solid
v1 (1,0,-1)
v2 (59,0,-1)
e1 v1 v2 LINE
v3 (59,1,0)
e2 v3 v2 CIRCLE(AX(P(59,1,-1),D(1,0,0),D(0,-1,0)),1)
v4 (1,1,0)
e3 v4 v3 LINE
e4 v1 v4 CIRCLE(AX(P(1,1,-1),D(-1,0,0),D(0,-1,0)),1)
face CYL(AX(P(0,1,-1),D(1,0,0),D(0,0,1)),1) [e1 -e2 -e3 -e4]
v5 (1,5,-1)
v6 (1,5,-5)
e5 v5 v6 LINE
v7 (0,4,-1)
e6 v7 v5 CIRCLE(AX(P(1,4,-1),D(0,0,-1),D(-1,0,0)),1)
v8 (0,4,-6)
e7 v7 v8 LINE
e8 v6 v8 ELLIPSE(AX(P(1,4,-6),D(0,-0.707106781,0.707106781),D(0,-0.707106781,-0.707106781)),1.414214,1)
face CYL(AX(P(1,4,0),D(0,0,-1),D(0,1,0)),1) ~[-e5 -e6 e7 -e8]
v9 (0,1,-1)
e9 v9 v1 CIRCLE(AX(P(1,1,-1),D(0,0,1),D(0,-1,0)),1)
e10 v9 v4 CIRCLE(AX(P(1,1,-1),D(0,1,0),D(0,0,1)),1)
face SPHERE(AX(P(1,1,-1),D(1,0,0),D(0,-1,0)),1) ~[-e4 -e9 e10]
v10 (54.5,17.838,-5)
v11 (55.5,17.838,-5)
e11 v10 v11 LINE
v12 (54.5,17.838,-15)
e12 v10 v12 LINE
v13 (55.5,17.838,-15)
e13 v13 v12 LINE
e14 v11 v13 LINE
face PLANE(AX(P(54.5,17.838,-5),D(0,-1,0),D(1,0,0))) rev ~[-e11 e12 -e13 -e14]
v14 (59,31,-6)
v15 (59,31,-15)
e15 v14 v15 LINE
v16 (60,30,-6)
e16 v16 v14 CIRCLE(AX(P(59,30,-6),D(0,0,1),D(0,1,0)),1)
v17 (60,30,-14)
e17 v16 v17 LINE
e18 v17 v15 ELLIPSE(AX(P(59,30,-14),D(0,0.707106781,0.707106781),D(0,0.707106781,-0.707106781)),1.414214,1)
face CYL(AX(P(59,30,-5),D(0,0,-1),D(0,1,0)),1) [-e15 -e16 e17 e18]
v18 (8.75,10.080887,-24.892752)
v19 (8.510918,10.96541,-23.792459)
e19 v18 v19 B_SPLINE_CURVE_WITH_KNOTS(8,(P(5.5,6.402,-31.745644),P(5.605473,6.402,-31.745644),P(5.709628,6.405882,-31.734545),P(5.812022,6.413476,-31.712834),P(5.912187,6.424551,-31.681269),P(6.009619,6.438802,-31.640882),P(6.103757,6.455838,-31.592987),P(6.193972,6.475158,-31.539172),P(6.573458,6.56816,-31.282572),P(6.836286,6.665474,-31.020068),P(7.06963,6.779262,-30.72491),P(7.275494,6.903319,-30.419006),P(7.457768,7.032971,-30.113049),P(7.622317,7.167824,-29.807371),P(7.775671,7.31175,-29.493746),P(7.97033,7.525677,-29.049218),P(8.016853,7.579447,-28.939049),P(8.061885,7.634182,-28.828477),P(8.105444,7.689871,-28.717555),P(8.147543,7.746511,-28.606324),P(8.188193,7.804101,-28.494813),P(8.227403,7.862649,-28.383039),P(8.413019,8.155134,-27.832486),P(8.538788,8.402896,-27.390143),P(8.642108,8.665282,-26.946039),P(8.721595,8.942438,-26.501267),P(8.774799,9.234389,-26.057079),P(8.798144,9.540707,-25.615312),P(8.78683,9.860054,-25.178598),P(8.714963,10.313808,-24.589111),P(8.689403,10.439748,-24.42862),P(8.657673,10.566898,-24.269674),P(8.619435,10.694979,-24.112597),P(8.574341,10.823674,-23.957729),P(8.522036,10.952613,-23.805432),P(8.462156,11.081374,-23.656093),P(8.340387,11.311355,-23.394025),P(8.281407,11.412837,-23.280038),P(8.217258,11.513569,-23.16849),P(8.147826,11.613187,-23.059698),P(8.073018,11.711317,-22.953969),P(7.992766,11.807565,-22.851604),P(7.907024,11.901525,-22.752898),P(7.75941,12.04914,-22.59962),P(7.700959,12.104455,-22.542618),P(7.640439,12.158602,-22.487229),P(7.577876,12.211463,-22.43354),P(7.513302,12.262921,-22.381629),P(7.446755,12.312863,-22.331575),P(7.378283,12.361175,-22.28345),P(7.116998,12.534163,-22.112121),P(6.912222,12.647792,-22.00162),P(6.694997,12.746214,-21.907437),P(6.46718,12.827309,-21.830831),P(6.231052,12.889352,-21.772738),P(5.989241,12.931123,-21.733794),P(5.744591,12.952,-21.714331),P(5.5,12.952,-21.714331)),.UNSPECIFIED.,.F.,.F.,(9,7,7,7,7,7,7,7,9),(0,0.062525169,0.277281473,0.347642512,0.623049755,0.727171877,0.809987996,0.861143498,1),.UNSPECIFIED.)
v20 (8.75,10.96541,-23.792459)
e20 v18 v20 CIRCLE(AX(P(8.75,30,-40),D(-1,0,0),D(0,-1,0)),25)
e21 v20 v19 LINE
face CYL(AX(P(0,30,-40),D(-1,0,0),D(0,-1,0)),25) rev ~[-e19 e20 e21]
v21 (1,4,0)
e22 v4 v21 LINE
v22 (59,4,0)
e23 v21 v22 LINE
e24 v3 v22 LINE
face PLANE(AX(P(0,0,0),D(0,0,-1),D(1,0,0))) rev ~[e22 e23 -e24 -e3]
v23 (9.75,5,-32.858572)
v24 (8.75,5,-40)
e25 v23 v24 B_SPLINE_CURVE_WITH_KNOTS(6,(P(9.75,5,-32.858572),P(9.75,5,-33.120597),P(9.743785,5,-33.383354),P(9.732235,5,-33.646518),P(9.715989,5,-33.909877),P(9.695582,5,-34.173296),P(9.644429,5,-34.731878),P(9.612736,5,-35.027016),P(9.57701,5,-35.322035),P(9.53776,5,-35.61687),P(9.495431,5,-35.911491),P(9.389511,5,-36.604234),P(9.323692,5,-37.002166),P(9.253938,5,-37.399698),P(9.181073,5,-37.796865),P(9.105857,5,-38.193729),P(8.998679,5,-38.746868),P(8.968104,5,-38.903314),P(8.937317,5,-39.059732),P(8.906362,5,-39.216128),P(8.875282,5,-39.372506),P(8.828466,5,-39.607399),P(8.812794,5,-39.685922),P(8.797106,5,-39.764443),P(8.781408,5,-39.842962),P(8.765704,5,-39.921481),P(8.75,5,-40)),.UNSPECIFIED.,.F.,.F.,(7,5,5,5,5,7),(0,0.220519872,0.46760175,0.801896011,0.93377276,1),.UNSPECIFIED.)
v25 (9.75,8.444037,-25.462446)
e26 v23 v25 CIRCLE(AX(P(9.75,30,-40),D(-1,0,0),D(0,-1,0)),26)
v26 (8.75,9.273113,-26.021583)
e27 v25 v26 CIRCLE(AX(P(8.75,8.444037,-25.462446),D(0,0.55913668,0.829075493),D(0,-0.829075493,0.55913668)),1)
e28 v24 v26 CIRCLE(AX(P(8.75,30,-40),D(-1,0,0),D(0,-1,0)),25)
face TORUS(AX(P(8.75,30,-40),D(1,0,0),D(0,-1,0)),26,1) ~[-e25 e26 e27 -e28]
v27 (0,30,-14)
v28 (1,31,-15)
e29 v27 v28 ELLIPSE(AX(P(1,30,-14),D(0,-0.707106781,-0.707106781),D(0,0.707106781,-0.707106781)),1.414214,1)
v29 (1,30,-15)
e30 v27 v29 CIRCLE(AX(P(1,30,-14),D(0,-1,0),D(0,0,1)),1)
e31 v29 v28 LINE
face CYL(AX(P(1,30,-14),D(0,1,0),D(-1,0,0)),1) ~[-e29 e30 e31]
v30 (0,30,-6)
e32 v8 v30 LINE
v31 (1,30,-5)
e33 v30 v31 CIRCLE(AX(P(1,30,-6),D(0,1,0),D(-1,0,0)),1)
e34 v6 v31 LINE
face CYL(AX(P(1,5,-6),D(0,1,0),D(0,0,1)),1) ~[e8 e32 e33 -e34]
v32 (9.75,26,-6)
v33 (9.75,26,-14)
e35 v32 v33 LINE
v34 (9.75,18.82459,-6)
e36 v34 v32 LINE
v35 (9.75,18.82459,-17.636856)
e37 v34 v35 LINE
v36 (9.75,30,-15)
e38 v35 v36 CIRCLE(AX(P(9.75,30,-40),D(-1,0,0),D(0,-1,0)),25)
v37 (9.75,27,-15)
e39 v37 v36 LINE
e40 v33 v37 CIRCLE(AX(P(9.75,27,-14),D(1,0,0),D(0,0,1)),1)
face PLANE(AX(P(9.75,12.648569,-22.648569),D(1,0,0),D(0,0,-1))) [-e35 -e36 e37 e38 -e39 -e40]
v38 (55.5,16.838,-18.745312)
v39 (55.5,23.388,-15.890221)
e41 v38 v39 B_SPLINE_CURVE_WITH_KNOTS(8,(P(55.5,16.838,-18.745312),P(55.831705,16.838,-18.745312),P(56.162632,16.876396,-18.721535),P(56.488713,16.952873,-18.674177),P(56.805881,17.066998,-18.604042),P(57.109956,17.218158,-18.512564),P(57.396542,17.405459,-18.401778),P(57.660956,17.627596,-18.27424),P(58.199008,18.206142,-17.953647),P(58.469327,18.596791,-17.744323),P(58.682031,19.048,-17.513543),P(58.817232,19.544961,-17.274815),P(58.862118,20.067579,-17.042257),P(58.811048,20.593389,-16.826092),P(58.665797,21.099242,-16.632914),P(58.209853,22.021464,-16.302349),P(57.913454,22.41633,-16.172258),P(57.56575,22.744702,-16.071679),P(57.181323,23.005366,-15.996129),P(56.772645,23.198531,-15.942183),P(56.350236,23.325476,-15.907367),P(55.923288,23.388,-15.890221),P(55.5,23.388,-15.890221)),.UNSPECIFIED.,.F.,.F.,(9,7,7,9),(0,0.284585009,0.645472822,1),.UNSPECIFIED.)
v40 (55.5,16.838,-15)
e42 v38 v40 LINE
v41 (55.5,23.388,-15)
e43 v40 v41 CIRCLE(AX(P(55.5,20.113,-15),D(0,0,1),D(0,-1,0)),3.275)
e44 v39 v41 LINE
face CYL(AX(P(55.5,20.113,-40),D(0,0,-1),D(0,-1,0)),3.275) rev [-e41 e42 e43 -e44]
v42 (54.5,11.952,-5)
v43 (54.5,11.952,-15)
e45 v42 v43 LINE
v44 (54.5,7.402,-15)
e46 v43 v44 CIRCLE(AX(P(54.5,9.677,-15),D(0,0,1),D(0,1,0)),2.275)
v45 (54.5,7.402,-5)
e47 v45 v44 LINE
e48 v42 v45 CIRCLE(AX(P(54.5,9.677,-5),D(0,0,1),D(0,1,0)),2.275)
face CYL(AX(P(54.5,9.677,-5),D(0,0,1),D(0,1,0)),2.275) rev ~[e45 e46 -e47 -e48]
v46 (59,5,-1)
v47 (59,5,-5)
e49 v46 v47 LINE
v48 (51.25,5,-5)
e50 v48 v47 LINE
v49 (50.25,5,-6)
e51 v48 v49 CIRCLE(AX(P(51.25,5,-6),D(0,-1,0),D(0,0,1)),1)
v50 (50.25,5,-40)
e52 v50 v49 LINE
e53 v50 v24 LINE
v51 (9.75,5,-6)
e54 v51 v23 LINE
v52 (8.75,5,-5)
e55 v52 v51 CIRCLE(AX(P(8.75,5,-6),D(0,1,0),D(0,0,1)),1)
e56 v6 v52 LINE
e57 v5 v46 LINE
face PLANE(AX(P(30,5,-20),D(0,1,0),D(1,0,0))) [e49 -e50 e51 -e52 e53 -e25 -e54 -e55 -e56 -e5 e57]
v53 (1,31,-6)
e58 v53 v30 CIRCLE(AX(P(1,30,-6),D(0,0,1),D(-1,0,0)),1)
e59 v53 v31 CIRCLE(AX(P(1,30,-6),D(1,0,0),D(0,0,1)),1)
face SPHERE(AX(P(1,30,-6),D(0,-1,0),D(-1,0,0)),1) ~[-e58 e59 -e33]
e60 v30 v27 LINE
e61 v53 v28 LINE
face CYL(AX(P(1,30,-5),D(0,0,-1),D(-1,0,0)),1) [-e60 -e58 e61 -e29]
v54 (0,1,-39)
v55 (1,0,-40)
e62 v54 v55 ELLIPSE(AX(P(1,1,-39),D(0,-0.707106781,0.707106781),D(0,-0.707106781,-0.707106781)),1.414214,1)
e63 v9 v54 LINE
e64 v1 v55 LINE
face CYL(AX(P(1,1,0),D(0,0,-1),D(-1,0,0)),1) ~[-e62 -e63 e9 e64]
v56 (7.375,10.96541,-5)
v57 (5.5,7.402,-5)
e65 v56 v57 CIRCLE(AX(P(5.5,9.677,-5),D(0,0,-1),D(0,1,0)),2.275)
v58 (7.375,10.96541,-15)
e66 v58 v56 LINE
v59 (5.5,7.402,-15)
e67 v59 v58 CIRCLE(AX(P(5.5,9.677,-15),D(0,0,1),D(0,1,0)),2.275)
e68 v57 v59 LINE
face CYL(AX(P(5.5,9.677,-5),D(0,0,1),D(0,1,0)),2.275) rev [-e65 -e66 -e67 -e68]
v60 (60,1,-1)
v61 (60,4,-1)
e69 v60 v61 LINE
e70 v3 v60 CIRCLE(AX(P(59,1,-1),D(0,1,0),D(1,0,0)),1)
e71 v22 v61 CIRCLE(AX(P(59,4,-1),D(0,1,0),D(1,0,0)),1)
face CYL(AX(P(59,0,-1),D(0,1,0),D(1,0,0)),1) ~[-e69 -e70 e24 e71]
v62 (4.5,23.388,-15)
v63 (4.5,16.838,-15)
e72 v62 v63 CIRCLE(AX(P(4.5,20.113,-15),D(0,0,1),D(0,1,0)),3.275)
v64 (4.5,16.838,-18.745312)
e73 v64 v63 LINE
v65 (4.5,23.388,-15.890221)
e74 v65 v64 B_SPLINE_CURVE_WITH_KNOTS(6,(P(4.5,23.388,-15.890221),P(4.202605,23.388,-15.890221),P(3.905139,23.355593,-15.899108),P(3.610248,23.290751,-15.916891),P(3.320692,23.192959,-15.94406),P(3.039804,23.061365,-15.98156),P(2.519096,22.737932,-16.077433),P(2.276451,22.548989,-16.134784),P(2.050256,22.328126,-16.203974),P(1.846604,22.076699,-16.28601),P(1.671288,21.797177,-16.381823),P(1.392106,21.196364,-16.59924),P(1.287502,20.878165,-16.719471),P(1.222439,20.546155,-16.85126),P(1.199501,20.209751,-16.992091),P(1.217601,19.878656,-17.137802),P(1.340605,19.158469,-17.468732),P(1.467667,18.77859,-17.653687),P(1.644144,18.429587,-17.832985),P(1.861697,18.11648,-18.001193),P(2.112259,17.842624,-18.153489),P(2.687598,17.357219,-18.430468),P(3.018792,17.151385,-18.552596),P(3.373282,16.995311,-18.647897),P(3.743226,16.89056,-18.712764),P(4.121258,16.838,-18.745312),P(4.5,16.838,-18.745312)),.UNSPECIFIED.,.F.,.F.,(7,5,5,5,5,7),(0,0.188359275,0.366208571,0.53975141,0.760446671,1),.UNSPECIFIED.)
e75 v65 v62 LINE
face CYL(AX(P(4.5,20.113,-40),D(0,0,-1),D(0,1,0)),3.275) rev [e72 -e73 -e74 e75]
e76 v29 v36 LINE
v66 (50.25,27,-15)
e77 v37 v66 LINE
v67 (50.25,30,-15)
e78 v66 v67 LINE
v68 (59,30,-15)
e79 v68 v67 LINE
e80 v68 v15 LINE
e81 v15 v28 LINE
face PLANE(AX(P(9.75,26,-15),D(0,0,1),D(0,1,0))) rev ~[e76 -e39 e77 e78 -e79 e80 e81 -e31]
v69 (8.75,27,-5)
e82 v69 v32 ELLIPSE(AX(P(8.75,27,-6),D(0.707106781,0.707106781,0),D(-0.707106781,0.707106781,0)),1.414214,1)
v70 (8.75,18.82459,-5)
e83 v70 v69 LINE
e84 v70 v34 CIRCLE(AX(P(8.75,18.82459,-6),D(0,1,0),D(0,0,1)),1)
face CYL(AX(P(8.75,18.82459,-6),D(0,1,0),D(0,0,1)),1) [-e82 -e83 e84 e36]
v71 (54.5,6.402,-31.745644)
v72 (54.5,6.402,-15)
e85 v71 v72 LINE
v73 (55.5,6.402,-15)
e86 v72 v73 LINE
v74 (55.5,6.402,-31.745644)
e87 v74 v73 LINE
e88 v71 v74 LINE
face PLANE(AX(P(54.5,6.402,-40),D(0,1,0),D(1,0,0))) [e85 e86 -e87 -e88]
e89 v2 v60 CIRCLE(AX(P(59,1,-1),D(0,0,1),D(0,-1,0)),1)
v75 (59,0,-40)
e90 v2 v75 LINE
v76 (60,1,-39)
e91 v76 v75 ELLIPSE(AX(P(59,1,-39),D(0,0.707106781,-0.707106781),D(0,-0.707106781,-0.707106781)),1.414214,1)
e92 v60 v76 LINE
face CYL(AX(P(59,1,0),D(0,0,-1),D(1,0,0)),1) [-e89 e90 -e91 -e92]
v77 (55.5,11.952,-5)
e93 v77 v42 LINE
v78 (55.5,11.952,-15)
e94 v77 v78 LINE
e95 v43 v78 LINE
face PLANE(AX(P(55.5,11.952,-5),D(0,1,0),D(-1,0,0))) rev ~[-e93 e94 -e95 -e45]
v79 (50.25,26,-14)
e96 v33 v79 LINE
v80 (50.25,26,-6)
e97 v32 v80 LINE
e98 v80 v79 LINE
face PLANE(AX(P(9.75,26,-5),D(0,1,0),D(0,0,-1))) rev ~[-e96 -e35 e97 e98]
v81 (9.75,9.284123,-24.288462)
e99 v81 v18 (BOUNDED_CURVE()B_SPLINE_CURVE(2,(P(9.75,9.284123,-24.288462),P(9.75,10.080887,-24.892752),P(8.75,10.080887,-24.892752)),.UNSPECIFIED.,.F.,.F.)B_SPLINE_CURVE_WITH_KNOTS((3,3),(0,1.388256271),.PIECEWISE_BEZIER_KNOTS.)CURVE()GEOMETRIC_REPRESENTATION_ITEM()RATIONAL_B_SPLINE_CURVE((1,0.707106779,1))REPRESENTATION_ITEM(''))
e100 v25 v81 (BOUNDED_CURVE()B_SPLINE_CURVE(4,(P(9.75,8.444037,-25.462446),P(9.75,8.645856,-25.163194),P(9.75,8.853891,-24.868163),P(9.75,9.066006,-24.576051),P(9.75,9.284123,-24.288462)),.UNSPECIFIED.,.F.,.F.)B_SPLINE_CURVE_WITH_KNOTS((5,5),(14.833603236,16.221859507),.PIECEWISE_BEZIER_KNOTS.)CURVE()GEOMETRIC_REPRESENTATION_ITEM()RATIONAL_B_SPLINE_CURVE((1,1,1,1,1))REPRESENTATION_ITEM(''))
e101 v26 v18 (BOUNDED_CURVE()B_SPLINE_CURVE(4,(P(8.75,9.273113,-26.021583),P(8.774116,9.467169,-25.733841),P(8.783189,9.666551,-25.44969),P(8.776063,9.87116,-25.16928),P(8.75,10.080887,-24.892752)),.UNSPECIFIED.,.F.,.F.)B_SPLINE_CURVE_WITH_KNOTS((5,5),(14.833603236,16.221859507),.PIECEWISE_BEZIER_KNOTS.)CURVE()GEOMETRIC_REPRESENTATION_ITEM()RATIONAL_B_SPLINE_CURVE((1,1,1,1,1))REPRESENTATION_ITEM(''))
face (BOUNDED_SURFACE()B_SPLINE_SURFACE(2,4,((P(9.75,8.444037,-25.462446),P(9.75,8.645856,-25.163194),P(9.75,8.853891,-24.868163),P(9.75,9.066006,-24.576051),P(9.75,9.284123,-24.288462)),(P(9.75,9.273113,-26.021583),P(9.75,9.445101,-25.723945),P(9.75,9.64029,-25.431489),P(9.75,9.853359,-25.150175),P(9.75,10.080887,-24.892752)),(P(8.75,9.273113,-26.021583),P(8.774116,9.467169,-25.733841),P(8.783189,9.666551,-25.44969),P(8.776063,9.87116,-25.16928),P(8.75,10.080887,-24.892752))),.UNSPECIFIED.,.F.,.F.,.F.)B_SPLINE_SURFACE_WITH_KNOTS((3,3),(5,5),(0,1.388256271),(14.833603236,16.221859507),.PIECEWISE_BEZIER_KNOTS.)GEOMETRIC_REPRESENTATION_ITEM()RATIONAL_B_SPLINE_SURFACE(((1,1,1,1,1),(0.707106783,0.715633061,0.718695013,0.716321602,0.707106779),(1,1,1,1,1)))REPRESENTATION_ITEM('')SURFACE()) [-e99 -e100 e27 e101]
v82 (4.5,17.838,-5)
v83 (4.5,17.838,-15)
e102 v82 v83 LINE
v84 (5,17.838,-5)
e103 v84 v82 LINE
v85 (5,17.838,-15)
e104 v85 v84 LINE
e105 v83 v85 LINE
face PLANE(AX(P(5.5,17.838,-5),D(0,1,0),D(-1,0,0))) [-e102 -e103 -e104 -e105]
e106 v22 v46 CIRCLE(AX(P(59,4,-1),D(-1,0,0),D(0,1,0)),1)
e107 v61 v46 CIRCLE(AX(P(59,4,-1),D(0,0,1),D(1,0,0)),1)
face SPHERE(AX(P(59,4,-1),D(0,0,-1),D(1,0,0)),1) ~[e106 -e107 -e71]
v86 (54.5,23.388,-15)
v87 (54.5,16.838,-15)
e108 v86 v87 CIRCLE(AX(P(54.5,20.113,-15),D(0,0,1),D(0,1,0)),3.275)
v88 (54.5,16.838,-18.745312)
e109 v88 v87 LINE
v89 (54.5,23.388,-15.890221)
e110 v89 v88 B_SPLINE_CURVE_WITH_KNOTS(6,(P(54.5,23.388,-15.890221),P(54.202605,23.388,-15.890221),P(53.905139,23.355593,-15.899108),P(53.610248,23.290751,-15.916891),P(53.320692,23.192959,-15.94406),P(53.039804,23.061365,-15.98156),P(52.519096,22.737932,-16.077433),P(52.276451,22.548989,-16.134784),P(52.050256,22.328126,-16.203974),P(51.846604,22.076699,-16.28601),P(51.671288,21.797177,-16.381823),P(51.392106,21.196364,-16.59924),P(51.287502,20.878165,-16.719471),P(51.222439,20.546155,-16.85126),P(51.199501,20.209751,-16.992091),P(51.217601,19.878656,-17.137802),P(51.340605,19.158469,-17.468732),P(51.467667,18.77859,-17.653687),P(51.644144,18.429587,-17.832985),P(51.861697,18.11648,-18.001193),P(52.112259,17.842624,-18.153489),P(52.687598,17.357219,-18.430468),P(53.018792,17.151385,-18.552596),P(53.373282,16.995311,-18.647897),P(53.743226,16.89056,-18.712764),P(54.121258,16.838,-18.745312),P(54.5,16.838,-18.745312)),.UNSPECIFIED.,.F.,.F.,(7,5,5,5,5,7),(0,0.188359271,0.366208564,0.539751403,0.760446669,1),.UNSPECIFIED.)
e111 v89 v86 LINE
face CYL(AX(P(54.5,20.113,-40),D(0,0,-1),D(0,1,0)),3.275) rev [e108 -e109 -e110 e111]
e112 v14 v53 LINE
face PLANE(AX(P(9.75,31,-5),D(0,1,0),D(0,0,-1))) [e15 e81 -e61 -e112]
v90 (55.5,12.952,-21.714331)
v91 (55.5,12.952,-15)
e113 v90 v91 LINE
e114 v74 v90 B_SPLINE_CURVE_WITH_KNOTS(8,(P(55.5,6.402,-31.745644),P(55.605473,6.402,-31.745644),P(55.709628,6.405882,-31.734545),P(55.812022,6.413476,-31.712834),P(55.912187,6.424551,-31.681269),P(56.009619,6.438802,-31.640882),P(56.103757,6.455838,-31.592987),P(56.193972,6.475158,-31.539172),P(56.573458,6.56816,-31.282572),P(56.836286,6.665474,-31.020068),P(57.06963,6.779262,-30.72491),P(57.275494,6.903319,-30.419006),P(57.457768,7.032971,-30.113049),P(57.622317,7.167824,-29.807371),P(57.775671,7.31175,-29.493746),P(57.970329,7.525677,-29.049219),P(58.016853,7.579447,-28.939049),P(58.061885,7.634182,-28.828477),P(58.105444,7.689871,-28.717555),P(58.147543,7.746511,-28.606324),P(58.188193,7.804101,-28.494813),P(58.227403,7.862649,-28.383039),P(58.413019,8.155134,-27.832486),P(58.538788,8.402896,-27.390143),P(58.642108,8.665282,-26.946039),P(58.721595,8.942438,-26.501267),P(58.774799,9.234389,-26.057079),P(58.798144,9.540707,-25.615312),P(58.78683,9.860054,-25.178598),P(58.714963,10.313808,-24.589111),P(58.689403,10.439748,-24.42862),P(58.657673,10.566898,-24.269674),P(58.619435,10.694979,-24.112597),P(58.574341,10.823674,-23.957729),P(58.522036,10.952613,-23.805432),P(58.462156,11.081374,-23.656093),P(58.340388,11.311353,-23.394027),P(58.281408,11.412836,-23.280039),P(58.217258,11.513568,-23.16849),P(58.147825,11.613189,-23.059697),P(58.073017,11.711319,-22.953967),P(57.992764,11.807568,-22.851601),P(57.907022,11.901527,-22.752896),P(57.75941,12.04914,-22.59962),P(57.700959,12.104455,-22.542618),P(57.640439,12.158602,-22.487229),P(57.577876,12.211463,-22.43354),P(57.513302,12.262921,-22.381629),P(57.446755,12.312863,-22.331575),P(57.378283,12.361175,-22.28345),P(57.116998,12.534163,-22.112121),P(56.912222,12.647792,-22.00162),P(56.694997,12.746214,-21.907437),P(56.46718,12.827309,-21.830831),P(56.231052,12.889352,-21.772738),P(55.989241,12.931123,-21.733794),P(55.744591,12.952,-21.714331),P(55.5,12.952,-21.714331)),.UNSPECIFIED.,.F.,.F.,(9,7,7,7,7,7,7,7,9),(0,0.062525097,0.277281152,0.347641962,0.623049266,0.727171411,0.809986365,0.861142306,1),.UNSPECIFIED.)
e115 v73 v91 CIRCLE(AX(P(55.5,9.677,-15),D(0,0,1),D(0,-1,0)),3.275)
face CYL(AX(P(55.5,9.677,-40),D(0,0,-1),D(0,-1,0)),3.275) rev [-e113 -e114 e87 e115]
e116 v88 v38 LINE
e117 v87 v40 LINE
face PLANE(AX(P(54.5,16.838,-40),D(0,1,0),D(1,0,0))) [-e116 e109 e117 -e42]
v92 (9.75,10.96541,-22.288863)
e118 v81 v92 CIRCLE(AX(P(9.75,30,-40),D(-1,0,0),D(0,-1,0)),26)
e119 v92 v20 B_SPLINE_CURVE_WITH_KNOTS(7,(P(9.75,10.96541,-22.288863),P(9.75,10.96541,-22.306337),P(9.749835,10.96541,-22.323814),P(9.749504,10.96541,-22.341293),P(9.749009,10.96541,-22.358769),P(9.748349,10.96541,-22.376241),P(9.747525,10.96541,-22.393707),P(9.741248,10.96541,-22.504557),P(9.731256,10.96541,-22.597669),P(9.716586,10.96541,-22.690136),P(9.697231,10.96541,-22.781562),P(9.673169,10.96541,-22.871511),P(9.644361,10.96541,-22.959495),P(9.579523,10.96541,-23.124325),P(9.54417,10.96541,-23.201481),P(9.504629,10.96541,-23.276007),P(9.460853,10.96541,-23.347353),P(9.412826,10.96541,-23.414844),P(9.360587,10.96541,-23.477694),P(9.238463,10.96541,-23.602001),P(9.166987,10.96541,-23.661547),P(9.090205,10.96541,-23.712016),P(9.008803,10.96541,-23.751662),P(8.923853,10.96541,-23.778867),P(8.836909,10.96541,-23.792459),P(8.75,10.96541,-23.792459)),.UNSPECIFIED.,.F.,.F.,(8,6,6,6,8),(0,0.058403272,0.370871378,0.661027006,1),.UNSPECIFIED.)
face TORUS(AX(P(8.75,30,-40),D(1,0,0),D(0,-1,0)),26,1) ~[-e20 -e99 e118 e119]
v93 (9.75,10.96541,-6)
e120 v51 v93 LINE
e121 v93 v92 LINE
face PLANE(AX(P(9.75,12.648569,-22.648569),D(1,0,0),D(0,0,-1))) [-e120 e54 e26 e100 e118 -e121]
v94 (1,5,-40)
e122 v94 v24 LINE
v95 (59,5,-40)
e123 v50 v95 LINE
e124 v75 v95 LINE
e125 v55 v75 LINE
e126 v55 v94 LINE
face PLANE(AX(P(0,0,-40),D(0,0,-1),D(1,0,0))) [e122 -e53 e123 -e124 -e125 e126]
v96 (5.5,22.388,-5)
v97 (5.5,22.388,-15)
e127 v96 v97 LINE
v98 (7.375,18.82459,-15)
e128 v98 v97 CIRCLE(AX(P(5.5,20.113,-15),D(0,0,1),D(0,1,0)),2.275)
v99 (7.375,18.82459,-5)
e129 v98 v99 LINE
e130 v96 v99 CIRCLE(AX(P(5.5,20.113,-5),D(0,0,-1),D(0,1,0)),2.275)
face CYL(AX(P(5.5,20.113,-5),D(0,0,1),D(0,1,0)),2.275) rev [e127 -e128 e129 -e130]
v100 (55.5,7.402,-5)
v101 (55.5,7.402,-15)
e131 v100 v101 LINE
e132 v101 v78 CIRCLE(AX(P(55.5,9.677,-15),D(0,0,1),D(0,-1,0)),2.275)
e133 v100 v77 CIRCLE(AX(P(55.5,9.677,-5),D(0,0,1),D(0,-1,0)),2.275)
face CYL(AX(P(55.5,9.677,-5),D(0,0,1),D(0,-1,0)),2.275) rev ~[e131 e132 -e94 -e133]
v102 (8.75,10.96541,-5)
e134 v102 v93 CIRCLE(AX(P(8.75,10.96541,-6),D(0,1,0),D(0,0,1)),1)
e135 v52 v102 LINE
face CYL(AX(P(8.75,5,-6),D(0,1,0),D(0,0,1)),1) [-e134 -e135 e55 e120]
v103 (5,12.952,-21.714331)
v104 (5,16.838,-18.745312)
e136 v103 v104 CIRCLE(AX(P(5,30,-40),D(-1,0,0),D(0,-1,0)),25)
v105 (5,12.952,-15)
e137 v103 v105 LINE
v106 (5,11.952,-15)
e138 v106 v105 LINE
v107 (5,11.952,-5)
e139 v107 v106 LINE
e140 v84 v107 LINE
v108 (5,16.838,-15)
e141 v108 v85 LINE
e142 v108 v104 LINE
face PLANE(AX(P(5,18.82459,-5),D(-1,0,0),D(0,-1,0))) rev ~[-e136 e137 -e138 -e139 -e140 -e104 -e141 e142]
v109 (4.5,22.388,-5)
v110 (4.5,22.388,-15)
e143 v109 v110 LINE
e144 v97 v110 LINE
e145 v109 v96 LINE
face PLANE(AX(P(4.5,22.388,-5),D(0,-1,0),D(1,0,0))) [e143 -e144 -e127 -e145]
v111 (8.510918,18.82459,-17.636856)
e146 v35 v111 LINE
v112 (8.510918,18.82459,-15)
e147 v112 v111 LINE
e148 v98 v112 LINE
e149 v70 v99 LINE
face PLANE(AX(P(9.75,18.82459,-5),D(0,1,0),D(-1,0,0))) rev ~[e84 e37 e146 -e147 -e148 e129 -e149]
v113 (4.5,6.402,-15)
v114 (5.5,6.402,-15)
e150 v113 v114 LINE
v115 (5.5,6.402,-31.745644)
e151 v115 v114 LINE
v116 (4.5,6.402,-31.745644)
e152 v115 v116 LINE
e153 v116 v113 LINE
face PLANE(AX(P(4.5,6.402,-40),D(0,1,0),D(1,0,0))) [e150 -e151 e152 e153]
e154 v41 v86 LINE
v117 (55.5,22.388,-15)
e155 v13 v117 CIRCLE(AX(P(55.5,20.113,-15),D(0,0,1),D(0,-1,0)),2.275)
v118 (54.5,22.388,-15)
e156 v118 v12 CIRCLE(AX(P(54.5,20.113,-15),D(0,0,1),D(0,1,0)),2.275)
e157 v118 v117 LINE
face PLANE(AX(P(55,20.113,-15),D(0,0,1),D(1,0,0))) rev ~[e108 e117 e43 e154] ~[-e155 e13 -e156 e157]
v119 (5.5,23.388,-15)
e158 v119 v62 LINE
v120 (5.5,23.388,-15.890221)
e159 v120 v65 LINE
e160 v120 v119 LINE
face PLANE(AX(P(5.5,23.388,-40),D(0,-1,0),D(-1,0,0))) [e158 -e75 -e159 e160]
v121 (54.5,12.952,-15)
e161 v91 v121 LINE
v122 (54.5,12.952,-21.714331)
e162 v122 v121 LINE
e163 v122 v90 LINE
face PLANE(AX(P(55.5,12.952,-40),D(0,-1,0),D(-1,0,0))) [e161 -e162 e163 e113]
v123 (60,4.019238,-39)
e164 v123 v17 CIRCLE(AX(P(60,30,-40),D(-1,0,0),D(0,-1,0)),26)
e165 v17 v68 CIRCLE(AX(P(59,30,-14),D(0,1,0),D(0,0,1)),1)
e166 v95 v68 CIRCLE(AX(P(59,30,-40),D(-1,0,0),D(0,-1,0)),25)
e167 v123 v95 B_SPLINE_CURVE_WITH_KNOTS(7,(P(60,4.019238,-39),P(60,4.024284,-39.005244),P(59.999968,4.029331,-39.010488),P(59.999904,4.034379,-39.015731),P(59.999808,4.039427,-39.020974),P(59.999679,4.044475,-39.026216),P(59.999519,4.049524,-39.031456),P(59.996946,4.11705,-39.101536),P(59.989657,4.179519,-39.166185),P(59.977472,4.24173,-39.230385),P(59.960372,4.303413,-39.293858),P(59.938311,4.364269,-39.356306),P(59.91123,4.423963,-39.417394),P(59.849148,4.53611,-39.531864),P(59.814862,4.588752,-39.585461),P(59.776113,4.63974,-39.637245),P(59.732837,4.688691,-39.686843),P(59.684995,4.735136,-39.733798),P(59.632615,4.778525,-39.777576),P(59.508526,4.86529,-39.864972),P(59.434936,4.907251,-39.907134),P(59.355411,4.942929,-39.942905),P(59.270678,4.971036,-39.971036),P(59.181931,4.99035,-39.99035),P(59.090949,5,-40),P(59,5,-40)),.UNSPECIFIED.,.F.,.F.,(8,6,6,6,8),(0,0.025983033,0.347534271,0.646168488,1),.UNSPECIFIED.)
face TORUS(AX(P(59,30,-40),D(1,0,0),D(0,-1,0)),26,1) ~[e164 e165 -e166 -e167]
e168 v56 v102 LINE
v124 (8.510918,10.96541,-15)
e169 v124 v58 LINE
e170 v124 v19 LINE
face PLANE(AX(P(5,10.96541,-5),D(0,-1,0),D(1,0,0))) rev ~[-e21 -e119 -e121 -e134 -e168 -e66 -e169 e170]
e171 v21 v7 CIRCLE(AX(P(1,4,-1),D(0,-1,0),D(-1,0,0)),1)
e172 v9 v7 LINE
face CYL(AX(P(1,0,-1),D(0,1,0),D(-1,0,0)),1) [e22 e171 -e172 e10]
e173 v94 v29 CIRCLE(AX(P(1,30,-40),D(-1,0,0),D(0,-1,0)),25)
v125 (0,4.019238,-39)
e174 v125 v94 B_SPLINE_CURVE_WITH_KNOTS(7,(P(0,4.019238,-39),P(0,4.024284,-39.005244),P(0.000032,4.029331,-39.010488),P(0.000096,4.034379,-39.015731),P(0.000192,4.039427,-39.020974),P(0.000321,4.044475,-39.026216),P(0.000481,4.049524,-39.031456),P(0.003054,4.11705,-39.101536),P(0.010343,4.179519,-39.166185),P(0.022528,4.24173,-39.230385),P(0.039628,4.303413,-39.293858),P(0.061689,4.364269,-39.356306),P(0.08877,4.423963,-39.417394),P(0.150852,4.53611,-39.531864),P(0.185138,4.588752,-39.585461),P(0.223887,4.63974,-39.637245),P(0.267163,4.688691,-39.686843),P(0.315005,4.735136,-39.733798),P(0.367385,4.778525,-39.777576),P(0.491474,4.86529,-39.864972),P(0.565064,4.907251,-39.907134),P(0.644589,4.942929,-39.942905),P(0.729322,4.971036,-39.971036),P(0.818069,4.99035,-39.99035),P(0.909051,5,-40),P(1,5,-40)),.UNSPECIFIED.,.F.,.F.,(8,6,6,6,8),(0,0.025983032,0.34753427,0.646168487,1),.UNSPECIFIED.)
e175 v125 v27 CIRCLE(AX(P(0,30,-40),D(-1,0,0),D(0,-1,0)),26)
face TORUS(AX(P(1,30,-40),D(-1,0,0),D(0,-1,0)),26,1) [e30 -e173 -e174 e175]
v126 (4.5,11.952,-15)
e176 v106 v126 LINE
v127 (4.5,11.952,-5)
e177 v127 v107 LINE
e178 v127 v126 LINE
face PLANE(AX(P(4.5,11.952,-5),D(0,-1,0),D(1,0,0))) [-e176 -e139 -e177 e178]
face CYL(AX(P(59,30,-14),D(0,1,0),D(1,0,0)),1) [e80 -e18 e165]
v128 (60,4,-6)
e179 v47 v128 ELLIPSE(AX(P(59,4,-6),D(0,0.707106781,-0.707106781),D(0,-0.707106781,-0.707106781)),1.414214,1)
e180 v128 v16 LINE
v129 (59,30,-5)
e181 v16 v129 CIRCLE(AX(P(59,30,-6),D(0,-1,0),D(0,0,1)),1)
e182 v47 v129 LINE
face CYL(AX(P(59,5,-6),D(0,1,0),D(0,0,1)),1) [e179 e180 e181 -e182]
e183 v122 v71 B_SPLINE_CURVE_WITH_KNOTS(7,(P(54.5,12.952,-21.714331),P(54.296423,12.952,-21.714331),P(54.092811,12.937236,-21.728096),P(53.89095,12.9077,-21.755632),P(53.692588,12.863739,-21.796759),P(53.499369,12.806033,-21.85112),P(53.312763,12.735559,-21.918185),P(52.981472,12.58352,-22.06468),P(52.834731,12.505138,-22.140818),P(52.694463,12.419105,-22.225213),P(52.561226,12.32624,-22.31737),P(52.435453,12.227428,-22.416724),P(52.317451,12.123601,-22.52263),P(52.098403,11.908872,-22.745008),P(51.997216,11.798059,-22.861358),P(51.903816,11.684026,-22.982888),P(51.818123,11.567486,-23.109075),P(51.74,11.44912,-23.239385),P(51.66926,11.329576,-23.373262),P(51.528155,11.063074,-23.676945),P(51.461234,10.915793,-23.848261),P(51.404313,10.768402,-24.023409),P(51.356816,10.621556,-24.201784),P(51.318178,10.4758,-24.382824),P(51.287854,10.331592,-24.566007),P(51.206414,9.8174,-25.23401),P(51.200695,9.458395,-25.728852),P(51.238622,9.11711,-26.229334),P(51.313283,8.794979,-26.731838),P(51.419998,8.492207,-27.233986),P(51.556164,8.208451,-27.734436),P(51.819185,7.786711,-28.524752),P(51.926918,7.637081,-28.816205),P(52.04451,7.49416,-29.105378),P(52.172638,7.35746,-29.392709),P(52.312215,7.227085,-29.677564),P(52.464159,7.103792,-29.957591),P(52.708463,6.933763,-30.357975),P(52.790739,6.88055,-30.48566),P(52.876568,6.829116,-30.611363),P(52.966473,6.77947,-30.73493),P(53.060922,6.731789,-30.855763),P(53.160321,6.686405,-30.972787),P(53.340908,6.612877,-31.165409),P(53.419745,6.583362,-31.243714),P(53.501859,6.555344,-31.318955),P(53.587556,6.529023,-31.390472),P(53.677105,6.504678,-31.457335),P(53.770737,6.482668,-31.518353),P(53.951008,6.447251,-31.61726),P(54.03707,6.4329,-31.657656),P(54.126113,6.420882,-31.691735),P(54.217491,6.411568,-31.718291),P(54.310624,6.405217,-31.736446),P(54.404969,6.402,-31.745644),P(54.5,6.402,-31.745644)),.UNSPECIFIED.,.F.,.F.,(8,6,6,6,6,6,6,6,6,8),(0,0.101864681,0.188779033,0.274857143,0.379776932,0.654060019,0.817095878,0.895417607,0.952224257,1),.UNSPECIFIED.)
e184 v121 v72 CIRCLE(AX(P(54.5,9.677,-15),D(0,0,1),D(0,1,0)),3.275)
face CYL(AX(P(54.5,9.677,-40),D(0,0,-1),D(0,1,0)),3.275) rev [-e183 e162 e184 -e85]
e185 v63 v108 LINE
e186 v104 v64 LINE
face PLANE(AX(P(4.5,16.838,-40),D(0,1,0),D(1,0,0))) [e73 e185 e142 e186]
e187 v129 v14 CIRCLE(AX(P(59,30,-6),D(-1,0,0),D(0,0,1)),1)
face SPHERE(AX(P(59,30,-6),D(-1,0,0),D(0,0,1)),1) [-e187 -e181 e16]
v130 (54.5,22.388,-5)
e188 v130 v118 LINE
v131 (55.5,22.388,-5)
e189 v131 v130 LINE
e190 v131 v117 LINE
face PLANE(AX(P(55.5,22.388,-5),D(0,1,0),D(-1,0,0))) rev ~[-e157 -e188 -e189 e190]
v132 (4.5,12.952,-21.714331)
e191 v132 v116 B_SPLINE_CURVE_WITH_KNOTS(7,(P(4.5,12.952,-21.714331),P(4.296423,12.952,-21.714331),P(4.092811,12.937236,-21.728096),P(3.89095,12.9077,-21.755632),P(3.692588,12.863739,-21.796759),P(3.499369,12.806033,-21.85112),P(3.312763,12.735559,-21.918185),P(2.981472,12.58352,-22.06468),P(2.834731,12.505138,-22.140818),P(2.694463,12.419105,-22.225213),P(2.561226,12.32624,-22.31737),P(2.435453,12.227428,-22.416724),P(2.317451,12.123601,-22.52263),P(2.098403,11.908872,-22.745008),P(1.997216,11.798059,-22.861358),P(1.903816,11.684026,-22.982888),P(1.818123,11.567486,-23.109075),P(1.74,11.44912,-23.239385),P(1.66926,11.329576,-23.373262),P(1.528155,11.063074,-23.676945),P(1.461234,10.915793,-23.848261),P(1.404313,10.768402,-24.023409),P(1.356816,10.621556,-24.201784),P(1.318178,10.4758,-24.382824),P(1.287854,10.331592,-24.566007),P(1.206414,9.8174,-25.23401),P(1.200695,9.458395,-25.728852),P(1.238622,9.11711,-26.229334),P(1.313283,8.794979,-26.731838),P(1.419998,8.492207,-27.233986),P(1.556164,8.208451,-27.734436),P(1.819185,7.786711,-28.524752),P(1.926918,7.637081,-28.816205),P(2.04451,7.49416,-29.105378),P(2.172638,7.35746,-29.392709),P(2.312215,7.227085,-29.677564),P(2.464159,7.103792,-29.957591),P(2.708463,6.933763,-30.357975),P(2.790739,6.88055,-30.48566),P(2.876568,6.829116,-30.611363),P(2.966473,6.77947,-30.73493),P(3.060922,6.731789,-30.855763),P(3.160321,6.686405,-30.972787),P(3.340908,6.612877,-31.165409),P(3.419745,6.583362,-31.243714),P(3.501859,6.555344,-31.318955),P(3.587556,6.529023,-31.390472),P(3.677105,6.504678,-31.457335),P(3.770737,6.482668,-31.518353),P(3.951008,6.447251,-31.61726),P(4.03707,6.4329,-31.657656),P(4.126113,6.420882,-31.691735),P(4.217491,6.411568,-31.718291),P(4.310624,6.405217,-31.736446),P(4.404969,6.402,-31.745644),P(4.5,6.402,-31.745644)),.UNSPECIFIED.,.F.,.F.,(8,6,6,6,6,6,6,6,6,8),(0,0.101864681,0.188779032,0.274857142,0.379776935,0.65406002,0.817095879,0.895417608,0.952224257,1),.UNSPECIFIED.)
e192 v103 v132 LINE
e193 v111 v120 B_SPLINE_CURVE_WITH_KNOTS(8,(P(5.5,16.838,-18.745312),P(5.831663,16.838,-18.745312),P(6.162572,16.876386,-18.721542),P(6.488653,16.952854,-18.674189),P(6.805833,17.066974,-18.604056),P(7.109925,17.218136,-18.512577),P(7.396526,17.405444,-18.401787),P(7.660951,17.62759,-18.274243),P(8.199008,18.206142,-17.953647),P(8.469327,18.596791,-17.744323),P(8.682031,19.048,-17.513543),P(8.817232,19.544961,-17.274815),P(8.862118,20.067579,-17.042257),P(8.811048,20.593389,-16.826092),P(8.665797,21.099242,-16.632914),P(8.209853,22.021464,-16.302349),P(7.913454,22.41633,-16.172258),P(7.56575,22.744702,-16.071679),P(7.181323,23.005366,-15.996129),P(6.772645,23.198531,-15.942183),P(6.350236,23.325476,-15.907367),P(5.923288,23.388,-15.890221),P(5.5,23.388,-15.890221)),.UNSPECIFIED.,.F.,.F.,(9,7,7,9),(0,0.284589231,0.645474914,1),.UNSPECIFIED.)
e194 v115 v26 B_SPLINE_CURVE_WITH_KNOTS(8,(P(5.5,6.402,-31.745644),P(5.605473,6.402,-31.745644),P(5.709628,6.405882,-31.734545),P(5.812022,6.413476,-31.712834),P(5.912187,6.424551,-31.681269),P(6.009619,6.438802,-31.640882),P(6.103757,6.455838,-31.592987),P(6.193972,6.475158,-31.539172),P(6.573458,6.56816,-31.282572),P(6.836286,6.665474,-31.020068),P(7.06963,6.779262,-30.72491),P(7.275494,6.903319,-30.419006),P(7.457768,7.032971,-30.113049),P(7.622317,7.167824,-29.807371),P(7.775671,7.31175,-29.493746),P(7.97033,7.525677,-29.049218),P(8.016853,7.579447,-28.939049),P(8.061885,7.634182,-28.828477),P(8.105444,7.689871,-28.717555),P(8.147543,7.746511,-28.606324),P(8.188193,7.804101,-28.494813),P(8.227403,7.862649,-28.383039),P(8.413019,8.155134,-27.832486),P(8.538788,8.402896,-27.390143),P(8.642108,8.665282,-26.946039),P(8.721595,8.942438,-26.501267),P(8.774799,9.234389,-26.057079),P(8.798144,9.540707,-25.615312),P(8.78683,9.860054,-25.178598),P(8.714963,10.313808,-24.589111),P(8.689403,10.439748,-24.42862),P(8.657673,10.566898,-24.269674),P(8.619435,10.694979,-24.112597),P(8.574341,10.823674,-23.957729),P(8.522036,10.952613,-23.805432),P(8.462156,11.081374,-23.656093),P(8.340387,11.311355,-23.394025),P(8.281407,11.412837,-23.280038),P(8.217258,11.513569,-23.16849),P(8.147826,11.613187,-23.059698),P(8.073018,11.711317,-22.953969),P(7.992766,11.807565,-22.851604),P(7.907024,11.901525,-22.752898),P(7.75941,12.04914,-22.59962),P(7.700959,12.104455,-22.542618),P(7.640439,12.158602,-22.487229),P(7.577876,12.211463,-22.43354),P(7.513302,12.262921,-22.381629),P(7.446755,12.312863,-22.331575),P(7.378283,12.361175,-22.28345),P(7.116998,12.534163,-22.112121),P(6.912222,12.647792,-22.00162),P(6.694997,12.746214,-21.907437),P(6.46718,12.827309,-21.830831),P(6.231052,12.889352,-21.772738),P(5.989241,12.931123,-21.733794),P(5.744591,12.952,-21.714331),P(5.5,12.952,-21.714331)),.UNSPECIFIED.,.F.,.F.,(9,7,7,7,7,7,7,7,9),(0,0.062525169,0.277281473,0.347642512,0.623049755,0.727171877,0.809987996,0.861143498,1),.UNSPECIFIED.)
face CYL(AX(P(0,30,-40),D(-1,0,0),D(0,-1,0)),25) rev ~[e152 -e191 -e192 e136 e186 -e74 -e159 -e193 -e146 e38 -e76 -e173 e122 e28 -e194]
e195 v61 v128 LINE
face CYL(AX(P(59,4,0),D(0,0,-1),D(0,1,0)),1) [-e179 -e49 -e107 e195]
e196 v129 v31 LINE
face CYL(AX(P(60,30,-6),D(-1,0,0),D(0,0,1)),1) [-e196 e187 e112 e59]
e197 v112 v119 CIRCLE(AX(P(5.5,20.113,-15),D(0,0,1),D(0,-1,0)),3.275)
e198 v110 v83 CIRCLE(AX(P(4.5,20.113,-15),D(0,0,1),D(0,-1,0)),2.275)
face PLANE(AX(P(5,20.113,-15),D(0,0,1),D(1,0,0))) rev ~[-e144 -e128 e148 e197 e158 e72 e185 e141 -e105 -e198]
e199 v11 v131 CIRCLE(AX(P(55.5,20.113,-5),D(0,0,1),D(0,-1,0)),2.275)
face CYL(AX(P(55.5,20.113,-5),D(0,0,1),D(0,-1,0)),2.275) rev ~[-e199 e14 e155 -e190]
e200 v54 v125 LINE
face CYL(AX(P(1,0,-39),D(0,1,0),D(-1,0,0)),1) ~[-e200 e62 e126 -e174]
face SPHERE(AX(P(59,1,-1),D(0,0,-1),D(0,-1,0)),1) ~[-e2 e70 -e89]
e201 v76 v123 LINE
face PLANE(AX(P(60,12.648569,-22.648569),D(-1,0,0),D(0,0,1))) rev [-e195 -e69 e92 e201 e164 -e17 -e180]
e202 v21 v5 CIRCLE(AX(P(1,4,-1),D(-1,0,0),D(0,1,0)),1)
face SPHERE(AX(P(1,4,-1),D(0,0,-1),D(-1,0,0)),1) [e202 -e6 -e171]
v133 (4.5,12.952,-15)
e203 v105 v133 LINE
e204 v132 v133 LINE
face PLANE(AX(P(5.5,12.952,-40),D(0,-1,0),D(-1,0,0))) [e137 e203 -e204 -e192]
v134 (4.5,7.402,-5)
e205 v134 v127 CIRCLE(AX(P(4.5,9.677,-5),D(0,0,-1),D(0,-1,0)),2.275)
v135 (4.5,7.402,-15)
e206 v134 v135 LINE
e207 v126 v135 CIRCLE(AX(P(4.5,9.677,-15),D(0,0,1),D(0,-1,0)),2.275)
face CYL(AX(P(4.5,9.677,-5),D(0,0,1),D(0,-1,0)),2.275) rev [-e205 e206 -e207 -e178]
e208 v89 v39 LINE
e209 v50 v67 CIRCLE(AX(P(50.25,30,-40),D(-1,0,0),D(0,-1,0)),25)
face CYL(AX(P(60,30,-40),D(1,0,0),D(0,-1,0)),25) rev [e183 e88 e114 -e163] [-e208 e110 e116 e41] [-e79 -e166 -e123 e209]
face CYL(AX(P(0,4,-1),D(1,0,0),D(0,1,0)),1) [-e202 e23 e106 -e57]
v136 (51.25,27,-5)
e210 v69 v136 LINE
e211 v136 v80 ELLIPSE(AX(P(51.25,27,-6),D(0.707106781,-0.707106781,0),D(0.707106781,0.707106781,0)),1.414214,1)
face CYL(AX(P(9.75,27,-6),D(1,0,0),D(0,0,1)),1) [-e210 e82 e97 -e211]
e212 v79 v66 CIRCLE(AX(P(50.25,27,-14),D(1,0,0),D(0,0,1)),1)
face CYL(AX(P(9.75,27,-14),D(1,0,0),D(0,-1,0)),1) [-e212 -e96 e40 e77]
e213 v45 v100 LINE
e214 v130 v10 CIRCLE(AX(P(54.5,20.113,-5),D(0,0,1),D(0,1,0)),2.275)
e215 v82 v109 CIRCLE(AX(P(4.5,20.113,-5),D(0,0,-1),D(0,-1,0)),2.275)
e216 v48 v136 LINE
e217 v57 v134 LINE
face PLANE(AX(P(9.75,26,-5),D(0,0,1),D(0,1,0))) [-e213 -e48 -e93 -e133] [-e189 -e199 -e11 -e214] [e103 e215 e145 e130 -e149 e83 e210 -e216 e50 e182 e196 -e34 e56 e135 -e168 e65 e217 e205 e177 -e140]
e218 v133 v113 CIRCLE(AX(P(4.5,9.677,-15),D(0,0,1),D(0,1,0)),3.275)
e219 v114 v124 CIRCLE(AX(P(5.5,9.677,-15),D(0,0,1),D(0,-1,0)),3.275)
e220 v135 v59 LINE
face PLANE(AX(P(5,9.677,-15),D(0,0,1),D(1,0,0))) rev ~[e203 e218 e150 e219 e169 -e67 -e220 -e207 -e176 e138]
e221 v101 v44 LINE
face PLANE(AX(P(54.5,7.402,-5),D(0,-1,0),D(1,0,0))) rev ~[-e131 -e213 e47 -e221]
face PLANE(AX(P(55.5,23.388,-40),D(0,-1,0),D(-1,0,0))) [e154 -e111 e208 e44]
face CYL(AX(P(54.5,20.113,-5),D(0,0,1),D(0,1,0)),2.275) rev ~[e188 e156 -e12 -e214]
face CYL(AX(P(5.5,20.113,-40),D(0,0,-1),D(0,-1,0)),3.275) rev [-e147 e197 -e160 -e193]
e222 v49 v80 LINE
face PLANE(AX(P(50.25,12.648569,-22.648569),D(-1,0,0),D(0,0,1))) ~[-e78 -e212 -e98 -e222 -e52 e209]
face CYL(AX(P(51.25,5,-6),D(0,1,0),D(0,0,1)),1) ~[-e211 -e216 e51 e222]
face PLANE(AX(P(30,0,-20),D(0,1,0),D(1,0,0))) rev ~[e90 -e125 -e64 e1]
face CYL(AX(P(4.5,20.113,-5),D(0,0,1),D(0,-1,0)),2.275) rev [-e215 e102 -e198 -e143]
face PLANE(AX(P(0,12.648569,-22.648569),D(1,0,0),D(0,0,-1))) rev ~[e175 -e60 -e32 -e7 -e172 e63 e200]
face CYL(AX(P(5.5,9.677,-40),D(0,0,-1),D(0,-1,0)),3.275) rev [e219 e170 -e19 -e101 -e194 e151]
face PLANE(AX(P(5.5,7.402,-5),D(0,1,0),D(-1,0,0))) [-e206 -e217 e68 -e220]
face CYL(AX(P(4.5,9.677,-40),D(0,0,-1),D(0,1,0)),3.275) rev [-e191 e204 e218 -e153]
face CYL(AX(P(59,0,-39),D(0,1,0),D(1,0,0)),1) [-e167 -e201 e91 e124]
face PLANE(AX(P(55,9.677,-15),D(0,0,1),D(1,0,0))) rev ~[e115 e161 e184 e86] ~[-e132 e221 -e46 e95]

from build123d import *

# Parameters (mm, degrees)
SKETCH1_W            = 60
SKETCH1_H            = 40
BOSS_EXTRUDE1_DEPTH  = 5
SKETCH2_W            = 9.75
SKETCH2_H            = 10
BOSS_EXTRUDE2_DEPTH  = 26
BOSS_EXTRUDE3_DEPTH  = 9.75
CUT_EXTRUDE1_DEPTH   = 36
SKETCH5_W            = 10
SKETCH5_H            = 5
BOSS_EXTRUDE4_DEPTH  = 40.5
WIRE_CUT_OUT_DEPTH   = 36.0000001
WASHER_CUT_OUT_DEPTH = 25
FILLET1_R            = 1


with BuildPart() as part:
    # Sketch1 → Boss-Extrude1 (new body)
    with BuildSketch(Plane(origin=(0, 0, 0), x_dir=(1, 0, 0), z_dir=(0, 1, 0))):
        with Locations((30, 20)):
            Rectangle(SKETCH1_W, SKETCH1_H)
    extrude(amount=BOSS_EXTRUDE1_DEPTH)

    # Sketch2 → Boss-Extrude2 (add)
    with BuildSketch(Plane(origin=(0, 5, 0), x_dir=(1, 0, 0), z_dir=(0, 1, 0))):
        with Locations((4.875, 10)):
            Rectangle(SKETCH2_W, SKETCH2_H)
        with Locations((55.125, 10)):
            Rectangle(SKETCH2_W, SKETCH2_H)
    extrude(amount=BOSS_EXTRUDE2_DEPTH)

    # Sketch3 → Boss-Extrude3 (add)
    with BuildSketch(Plane.ZY):
        with BuildLine():
            Line((-15, 30), (-15, 5))
            Line((-15, 5), (-40, 5))
            ThreePointArc((-40, 5), (-22.32233047, 12.32233047), (-15, 30))
        make_face()
    boss_extrude3 = extrude(amount=-BOSS_EXTRUDE3_DEPTH)

    # Mirror2: Boss-Extrude3 across plane
    add(boss_extrude3.mirror(Plane(origin=(30, 0, 0), x_dir=(0, 0, 1), z_dir=(1, 0, 0))))

    # Sketch4 → Cut-Extrude1 (cut, through all)
    with BuildSketch(Plane.XY.offset(-5)):
        with BuildLine():
            Line((4.5, 22.388), (5.5, 22.388))
            ThreePointArc((5.5, 22.388), (7.775, 20.113), (5.5, 17.838))
            Line((5.5, 17.838), (4.5, 17.838))
            ThreePointArc((4.5, 17.838), (2.225, 20.113), (4.5, 22.388))
        make_face()
        with BuildLine():
            Line((4.5, 11.952), (5.5, 11.952))
            ThreePointArc((5.5, 11.952), (7.775, 9.677), (5.5, 7.402))
            Line((5.5, 7.402), (4.5, 7.402))
            ThreePointArc((4.5, 7.402), (2.225, 9.677), (4.5, 11.952))
        make_face()
        with BuildLine():
            Line((55.5, 11.952), (54.5, 11.952))
            ThreePointArc((54.5, 11.952), (52.225, 9.677), (54.5, 7.402))
            Line((54.5, 7.402), (55.5, 7.402))
            ThreePointArc((55.5, 7.402), (57.775, 9.677), (55.5, 11.952))
        make_face()
        with BuildLine():
            Line((55.5, 22.388), (54.5, 22.388))
            ThreePointArc((54.5, 22.388), (52.225, 20.113), (54.5, 17.838))
            Line((54.5, 17.838), (55.5, 17.838))
            ThreePointArc((55.5, 17.838), (57.775, 20.113), (55.5, 22.388))
        make_face()
    extrude(amount=-CUT_EXTRUDE1_DEPTH, mode=Mode.SUBTRACT)

    # Sketch5 → Boss-Extrude4 (add)
    with BuildSketch(Plane(origin=(9.75, 0, 0), x_dir=(0, 0, -1), z_dir=(1, 0, 0))):
        with Locations((10, 28.5)):
            Rectangle(SKETCH5_W, SKETCH5_H)
    extrude(amount=BOSS_EXTRUDE4_DEPTH)

    # Sketch6 → Wire_Cut_Out (cut, through all)
    with BuildSketch(Plane.XY.offset(-5)):
        with BuildLine():
            Line((5.5, 17.838), (5, 17.838))
            Line((5, 17.838), (5, 11.952))
            Line((5, 11.952), (5.5, 11.952))
            ThreePointArc((5.5, 11.952), (6.559361256, 11.690300457), (7.375, 10.965409873))
            Line((7.375, 10.965409873), (9.75, 10.965409873))
            Line((9.75, 10.965409873), (9.75, 18.824590127))
            Line((9.75, 18.824590127), (7.375, 18.824590127))
            ThreePointArc((7.375, 18.824590127), (6.559361256, 18.099699543), (5.5, 17.838))
        make_face()
        with BuildLine():
            Line((5, 18.824590127), (5, 17.838))
            Line((5, 17.838), (5.5, 17.838))
            ThreePointArc((5.5, 17.838), (6.559361256, 18.099699543), (7.375, 18.824590127))
            Line((7.375, 18.824590127), (5, 18.824590127))
        make_face()
        with BuildLine():
            Line((5.5, 11.952), (5, 11.952))
            Line((5, 11.952), (5, 10.965409873))
            Line((5, 10.965409873), (7.375, 10.965409873))
            ThreePointArc((7.375, 10.965409873), (6.559361256, 11.690300457), (5.5, 11.952))
        make_face()
    extrude(amount=-WIRE_CUT_OUT_DEPTH, mode=Mode.SUBTRACT)

    # Sketch8 → Washer_Cut_Out (cut)
    with BuildSketch(Plane(origin=(0, 0, -40), x_dir=(-1, 0, 0), z_dir=(0, 0, -1))):
        with BuildLine():
            Line((-55.5, 23.388), (-54.5, 23.388))
            ThreePointArc((-54.5, 23.388), (-51.225, 20.113), (-54.5, 16.838))
            Line((-54.5, 16.838), (-55.5, 16.838))
            ThreePointArc((-55.5, 16.838), (-58.775, 20.113), (-55.5, 23.388))
        make_face()
        with BuildLine():
            Line((-55.5, 12.952), (-54.5, 12.952))
            ThreePointArc((-54.5, 12.952), (-51.225, 9.677), (-54.5, 6.402))
            Line((-54.5, 6.402), (-55.5, 6.402))
            ThreePointArc((-55.5, 6.402), (-58.775, 9.677), (-55.5, 12.952))
        make_face()
        with BuildLine():
            Line((-5.5, 23.388), (-4.5, 23.388))
            ThreePointArc((-4.5, 23.388), (-1.225, 20.113), (-4.5, 16.838))
            Line((-4.5, 16.838), (-5.5, 16.838))
            ThreePointArc((-5.5, 16.838), (-8.775, 20.113), (-5.5, 23.388))
        make_face()
        with BuildLine():
            Line((-5.5, 12.952), (-4.5, 12.952))
            ThreePointArc((-4.5, 12.952), (-1.225, 9.677), (-4.5, 6.402))
            Line((-4.5, 6.402), (-5.5, 6.402))
            ThreePointArc((-5.5, 6.402), (-8.775, 9.677), (-5.5, 12.952))
        make_face()
    extrude(amount=-WASHER_CUT_OUT_DEPTH, mode=Mode.SUBTRACT)

    # Fillet1
    fillet1_edges = [part.edges().sort_by_distance(p)[0] for p in [
        (60, 5, -2.5),
        (0, 5, -2.5),
        (50.25, 15.5, -5),
        (9.75, 22.412295064, -5),
        (30, 26, -15),
        (30, 26, -5),
        (0, 30.5, -15),
        (0, 18, -5),
        (9.75, 6.538704712, -31.364745319),
        (9.75, 7.982704936, -5),
        (0, 31, -10),
        (30, 31, -5),
        (60, 18, -5),
        (60, 30.5, -15),
        (60, 31, -10),
        (0, 12.32233047, -22.32233047),
        (60, 12.32233047, -22.32233047),
        (60, 0, -20),
        (30, 0, 0),
        (0, 0, -20),
        (0, 2.5, -40),
        (60, 2.5, -40),
        (60, 2.5, 0),
        (0, 2.5, 0),
        (30, 5, 0),
    ]]
    fillet(fillet1_edges, radius=FILLET1_R)


solid = part.part
